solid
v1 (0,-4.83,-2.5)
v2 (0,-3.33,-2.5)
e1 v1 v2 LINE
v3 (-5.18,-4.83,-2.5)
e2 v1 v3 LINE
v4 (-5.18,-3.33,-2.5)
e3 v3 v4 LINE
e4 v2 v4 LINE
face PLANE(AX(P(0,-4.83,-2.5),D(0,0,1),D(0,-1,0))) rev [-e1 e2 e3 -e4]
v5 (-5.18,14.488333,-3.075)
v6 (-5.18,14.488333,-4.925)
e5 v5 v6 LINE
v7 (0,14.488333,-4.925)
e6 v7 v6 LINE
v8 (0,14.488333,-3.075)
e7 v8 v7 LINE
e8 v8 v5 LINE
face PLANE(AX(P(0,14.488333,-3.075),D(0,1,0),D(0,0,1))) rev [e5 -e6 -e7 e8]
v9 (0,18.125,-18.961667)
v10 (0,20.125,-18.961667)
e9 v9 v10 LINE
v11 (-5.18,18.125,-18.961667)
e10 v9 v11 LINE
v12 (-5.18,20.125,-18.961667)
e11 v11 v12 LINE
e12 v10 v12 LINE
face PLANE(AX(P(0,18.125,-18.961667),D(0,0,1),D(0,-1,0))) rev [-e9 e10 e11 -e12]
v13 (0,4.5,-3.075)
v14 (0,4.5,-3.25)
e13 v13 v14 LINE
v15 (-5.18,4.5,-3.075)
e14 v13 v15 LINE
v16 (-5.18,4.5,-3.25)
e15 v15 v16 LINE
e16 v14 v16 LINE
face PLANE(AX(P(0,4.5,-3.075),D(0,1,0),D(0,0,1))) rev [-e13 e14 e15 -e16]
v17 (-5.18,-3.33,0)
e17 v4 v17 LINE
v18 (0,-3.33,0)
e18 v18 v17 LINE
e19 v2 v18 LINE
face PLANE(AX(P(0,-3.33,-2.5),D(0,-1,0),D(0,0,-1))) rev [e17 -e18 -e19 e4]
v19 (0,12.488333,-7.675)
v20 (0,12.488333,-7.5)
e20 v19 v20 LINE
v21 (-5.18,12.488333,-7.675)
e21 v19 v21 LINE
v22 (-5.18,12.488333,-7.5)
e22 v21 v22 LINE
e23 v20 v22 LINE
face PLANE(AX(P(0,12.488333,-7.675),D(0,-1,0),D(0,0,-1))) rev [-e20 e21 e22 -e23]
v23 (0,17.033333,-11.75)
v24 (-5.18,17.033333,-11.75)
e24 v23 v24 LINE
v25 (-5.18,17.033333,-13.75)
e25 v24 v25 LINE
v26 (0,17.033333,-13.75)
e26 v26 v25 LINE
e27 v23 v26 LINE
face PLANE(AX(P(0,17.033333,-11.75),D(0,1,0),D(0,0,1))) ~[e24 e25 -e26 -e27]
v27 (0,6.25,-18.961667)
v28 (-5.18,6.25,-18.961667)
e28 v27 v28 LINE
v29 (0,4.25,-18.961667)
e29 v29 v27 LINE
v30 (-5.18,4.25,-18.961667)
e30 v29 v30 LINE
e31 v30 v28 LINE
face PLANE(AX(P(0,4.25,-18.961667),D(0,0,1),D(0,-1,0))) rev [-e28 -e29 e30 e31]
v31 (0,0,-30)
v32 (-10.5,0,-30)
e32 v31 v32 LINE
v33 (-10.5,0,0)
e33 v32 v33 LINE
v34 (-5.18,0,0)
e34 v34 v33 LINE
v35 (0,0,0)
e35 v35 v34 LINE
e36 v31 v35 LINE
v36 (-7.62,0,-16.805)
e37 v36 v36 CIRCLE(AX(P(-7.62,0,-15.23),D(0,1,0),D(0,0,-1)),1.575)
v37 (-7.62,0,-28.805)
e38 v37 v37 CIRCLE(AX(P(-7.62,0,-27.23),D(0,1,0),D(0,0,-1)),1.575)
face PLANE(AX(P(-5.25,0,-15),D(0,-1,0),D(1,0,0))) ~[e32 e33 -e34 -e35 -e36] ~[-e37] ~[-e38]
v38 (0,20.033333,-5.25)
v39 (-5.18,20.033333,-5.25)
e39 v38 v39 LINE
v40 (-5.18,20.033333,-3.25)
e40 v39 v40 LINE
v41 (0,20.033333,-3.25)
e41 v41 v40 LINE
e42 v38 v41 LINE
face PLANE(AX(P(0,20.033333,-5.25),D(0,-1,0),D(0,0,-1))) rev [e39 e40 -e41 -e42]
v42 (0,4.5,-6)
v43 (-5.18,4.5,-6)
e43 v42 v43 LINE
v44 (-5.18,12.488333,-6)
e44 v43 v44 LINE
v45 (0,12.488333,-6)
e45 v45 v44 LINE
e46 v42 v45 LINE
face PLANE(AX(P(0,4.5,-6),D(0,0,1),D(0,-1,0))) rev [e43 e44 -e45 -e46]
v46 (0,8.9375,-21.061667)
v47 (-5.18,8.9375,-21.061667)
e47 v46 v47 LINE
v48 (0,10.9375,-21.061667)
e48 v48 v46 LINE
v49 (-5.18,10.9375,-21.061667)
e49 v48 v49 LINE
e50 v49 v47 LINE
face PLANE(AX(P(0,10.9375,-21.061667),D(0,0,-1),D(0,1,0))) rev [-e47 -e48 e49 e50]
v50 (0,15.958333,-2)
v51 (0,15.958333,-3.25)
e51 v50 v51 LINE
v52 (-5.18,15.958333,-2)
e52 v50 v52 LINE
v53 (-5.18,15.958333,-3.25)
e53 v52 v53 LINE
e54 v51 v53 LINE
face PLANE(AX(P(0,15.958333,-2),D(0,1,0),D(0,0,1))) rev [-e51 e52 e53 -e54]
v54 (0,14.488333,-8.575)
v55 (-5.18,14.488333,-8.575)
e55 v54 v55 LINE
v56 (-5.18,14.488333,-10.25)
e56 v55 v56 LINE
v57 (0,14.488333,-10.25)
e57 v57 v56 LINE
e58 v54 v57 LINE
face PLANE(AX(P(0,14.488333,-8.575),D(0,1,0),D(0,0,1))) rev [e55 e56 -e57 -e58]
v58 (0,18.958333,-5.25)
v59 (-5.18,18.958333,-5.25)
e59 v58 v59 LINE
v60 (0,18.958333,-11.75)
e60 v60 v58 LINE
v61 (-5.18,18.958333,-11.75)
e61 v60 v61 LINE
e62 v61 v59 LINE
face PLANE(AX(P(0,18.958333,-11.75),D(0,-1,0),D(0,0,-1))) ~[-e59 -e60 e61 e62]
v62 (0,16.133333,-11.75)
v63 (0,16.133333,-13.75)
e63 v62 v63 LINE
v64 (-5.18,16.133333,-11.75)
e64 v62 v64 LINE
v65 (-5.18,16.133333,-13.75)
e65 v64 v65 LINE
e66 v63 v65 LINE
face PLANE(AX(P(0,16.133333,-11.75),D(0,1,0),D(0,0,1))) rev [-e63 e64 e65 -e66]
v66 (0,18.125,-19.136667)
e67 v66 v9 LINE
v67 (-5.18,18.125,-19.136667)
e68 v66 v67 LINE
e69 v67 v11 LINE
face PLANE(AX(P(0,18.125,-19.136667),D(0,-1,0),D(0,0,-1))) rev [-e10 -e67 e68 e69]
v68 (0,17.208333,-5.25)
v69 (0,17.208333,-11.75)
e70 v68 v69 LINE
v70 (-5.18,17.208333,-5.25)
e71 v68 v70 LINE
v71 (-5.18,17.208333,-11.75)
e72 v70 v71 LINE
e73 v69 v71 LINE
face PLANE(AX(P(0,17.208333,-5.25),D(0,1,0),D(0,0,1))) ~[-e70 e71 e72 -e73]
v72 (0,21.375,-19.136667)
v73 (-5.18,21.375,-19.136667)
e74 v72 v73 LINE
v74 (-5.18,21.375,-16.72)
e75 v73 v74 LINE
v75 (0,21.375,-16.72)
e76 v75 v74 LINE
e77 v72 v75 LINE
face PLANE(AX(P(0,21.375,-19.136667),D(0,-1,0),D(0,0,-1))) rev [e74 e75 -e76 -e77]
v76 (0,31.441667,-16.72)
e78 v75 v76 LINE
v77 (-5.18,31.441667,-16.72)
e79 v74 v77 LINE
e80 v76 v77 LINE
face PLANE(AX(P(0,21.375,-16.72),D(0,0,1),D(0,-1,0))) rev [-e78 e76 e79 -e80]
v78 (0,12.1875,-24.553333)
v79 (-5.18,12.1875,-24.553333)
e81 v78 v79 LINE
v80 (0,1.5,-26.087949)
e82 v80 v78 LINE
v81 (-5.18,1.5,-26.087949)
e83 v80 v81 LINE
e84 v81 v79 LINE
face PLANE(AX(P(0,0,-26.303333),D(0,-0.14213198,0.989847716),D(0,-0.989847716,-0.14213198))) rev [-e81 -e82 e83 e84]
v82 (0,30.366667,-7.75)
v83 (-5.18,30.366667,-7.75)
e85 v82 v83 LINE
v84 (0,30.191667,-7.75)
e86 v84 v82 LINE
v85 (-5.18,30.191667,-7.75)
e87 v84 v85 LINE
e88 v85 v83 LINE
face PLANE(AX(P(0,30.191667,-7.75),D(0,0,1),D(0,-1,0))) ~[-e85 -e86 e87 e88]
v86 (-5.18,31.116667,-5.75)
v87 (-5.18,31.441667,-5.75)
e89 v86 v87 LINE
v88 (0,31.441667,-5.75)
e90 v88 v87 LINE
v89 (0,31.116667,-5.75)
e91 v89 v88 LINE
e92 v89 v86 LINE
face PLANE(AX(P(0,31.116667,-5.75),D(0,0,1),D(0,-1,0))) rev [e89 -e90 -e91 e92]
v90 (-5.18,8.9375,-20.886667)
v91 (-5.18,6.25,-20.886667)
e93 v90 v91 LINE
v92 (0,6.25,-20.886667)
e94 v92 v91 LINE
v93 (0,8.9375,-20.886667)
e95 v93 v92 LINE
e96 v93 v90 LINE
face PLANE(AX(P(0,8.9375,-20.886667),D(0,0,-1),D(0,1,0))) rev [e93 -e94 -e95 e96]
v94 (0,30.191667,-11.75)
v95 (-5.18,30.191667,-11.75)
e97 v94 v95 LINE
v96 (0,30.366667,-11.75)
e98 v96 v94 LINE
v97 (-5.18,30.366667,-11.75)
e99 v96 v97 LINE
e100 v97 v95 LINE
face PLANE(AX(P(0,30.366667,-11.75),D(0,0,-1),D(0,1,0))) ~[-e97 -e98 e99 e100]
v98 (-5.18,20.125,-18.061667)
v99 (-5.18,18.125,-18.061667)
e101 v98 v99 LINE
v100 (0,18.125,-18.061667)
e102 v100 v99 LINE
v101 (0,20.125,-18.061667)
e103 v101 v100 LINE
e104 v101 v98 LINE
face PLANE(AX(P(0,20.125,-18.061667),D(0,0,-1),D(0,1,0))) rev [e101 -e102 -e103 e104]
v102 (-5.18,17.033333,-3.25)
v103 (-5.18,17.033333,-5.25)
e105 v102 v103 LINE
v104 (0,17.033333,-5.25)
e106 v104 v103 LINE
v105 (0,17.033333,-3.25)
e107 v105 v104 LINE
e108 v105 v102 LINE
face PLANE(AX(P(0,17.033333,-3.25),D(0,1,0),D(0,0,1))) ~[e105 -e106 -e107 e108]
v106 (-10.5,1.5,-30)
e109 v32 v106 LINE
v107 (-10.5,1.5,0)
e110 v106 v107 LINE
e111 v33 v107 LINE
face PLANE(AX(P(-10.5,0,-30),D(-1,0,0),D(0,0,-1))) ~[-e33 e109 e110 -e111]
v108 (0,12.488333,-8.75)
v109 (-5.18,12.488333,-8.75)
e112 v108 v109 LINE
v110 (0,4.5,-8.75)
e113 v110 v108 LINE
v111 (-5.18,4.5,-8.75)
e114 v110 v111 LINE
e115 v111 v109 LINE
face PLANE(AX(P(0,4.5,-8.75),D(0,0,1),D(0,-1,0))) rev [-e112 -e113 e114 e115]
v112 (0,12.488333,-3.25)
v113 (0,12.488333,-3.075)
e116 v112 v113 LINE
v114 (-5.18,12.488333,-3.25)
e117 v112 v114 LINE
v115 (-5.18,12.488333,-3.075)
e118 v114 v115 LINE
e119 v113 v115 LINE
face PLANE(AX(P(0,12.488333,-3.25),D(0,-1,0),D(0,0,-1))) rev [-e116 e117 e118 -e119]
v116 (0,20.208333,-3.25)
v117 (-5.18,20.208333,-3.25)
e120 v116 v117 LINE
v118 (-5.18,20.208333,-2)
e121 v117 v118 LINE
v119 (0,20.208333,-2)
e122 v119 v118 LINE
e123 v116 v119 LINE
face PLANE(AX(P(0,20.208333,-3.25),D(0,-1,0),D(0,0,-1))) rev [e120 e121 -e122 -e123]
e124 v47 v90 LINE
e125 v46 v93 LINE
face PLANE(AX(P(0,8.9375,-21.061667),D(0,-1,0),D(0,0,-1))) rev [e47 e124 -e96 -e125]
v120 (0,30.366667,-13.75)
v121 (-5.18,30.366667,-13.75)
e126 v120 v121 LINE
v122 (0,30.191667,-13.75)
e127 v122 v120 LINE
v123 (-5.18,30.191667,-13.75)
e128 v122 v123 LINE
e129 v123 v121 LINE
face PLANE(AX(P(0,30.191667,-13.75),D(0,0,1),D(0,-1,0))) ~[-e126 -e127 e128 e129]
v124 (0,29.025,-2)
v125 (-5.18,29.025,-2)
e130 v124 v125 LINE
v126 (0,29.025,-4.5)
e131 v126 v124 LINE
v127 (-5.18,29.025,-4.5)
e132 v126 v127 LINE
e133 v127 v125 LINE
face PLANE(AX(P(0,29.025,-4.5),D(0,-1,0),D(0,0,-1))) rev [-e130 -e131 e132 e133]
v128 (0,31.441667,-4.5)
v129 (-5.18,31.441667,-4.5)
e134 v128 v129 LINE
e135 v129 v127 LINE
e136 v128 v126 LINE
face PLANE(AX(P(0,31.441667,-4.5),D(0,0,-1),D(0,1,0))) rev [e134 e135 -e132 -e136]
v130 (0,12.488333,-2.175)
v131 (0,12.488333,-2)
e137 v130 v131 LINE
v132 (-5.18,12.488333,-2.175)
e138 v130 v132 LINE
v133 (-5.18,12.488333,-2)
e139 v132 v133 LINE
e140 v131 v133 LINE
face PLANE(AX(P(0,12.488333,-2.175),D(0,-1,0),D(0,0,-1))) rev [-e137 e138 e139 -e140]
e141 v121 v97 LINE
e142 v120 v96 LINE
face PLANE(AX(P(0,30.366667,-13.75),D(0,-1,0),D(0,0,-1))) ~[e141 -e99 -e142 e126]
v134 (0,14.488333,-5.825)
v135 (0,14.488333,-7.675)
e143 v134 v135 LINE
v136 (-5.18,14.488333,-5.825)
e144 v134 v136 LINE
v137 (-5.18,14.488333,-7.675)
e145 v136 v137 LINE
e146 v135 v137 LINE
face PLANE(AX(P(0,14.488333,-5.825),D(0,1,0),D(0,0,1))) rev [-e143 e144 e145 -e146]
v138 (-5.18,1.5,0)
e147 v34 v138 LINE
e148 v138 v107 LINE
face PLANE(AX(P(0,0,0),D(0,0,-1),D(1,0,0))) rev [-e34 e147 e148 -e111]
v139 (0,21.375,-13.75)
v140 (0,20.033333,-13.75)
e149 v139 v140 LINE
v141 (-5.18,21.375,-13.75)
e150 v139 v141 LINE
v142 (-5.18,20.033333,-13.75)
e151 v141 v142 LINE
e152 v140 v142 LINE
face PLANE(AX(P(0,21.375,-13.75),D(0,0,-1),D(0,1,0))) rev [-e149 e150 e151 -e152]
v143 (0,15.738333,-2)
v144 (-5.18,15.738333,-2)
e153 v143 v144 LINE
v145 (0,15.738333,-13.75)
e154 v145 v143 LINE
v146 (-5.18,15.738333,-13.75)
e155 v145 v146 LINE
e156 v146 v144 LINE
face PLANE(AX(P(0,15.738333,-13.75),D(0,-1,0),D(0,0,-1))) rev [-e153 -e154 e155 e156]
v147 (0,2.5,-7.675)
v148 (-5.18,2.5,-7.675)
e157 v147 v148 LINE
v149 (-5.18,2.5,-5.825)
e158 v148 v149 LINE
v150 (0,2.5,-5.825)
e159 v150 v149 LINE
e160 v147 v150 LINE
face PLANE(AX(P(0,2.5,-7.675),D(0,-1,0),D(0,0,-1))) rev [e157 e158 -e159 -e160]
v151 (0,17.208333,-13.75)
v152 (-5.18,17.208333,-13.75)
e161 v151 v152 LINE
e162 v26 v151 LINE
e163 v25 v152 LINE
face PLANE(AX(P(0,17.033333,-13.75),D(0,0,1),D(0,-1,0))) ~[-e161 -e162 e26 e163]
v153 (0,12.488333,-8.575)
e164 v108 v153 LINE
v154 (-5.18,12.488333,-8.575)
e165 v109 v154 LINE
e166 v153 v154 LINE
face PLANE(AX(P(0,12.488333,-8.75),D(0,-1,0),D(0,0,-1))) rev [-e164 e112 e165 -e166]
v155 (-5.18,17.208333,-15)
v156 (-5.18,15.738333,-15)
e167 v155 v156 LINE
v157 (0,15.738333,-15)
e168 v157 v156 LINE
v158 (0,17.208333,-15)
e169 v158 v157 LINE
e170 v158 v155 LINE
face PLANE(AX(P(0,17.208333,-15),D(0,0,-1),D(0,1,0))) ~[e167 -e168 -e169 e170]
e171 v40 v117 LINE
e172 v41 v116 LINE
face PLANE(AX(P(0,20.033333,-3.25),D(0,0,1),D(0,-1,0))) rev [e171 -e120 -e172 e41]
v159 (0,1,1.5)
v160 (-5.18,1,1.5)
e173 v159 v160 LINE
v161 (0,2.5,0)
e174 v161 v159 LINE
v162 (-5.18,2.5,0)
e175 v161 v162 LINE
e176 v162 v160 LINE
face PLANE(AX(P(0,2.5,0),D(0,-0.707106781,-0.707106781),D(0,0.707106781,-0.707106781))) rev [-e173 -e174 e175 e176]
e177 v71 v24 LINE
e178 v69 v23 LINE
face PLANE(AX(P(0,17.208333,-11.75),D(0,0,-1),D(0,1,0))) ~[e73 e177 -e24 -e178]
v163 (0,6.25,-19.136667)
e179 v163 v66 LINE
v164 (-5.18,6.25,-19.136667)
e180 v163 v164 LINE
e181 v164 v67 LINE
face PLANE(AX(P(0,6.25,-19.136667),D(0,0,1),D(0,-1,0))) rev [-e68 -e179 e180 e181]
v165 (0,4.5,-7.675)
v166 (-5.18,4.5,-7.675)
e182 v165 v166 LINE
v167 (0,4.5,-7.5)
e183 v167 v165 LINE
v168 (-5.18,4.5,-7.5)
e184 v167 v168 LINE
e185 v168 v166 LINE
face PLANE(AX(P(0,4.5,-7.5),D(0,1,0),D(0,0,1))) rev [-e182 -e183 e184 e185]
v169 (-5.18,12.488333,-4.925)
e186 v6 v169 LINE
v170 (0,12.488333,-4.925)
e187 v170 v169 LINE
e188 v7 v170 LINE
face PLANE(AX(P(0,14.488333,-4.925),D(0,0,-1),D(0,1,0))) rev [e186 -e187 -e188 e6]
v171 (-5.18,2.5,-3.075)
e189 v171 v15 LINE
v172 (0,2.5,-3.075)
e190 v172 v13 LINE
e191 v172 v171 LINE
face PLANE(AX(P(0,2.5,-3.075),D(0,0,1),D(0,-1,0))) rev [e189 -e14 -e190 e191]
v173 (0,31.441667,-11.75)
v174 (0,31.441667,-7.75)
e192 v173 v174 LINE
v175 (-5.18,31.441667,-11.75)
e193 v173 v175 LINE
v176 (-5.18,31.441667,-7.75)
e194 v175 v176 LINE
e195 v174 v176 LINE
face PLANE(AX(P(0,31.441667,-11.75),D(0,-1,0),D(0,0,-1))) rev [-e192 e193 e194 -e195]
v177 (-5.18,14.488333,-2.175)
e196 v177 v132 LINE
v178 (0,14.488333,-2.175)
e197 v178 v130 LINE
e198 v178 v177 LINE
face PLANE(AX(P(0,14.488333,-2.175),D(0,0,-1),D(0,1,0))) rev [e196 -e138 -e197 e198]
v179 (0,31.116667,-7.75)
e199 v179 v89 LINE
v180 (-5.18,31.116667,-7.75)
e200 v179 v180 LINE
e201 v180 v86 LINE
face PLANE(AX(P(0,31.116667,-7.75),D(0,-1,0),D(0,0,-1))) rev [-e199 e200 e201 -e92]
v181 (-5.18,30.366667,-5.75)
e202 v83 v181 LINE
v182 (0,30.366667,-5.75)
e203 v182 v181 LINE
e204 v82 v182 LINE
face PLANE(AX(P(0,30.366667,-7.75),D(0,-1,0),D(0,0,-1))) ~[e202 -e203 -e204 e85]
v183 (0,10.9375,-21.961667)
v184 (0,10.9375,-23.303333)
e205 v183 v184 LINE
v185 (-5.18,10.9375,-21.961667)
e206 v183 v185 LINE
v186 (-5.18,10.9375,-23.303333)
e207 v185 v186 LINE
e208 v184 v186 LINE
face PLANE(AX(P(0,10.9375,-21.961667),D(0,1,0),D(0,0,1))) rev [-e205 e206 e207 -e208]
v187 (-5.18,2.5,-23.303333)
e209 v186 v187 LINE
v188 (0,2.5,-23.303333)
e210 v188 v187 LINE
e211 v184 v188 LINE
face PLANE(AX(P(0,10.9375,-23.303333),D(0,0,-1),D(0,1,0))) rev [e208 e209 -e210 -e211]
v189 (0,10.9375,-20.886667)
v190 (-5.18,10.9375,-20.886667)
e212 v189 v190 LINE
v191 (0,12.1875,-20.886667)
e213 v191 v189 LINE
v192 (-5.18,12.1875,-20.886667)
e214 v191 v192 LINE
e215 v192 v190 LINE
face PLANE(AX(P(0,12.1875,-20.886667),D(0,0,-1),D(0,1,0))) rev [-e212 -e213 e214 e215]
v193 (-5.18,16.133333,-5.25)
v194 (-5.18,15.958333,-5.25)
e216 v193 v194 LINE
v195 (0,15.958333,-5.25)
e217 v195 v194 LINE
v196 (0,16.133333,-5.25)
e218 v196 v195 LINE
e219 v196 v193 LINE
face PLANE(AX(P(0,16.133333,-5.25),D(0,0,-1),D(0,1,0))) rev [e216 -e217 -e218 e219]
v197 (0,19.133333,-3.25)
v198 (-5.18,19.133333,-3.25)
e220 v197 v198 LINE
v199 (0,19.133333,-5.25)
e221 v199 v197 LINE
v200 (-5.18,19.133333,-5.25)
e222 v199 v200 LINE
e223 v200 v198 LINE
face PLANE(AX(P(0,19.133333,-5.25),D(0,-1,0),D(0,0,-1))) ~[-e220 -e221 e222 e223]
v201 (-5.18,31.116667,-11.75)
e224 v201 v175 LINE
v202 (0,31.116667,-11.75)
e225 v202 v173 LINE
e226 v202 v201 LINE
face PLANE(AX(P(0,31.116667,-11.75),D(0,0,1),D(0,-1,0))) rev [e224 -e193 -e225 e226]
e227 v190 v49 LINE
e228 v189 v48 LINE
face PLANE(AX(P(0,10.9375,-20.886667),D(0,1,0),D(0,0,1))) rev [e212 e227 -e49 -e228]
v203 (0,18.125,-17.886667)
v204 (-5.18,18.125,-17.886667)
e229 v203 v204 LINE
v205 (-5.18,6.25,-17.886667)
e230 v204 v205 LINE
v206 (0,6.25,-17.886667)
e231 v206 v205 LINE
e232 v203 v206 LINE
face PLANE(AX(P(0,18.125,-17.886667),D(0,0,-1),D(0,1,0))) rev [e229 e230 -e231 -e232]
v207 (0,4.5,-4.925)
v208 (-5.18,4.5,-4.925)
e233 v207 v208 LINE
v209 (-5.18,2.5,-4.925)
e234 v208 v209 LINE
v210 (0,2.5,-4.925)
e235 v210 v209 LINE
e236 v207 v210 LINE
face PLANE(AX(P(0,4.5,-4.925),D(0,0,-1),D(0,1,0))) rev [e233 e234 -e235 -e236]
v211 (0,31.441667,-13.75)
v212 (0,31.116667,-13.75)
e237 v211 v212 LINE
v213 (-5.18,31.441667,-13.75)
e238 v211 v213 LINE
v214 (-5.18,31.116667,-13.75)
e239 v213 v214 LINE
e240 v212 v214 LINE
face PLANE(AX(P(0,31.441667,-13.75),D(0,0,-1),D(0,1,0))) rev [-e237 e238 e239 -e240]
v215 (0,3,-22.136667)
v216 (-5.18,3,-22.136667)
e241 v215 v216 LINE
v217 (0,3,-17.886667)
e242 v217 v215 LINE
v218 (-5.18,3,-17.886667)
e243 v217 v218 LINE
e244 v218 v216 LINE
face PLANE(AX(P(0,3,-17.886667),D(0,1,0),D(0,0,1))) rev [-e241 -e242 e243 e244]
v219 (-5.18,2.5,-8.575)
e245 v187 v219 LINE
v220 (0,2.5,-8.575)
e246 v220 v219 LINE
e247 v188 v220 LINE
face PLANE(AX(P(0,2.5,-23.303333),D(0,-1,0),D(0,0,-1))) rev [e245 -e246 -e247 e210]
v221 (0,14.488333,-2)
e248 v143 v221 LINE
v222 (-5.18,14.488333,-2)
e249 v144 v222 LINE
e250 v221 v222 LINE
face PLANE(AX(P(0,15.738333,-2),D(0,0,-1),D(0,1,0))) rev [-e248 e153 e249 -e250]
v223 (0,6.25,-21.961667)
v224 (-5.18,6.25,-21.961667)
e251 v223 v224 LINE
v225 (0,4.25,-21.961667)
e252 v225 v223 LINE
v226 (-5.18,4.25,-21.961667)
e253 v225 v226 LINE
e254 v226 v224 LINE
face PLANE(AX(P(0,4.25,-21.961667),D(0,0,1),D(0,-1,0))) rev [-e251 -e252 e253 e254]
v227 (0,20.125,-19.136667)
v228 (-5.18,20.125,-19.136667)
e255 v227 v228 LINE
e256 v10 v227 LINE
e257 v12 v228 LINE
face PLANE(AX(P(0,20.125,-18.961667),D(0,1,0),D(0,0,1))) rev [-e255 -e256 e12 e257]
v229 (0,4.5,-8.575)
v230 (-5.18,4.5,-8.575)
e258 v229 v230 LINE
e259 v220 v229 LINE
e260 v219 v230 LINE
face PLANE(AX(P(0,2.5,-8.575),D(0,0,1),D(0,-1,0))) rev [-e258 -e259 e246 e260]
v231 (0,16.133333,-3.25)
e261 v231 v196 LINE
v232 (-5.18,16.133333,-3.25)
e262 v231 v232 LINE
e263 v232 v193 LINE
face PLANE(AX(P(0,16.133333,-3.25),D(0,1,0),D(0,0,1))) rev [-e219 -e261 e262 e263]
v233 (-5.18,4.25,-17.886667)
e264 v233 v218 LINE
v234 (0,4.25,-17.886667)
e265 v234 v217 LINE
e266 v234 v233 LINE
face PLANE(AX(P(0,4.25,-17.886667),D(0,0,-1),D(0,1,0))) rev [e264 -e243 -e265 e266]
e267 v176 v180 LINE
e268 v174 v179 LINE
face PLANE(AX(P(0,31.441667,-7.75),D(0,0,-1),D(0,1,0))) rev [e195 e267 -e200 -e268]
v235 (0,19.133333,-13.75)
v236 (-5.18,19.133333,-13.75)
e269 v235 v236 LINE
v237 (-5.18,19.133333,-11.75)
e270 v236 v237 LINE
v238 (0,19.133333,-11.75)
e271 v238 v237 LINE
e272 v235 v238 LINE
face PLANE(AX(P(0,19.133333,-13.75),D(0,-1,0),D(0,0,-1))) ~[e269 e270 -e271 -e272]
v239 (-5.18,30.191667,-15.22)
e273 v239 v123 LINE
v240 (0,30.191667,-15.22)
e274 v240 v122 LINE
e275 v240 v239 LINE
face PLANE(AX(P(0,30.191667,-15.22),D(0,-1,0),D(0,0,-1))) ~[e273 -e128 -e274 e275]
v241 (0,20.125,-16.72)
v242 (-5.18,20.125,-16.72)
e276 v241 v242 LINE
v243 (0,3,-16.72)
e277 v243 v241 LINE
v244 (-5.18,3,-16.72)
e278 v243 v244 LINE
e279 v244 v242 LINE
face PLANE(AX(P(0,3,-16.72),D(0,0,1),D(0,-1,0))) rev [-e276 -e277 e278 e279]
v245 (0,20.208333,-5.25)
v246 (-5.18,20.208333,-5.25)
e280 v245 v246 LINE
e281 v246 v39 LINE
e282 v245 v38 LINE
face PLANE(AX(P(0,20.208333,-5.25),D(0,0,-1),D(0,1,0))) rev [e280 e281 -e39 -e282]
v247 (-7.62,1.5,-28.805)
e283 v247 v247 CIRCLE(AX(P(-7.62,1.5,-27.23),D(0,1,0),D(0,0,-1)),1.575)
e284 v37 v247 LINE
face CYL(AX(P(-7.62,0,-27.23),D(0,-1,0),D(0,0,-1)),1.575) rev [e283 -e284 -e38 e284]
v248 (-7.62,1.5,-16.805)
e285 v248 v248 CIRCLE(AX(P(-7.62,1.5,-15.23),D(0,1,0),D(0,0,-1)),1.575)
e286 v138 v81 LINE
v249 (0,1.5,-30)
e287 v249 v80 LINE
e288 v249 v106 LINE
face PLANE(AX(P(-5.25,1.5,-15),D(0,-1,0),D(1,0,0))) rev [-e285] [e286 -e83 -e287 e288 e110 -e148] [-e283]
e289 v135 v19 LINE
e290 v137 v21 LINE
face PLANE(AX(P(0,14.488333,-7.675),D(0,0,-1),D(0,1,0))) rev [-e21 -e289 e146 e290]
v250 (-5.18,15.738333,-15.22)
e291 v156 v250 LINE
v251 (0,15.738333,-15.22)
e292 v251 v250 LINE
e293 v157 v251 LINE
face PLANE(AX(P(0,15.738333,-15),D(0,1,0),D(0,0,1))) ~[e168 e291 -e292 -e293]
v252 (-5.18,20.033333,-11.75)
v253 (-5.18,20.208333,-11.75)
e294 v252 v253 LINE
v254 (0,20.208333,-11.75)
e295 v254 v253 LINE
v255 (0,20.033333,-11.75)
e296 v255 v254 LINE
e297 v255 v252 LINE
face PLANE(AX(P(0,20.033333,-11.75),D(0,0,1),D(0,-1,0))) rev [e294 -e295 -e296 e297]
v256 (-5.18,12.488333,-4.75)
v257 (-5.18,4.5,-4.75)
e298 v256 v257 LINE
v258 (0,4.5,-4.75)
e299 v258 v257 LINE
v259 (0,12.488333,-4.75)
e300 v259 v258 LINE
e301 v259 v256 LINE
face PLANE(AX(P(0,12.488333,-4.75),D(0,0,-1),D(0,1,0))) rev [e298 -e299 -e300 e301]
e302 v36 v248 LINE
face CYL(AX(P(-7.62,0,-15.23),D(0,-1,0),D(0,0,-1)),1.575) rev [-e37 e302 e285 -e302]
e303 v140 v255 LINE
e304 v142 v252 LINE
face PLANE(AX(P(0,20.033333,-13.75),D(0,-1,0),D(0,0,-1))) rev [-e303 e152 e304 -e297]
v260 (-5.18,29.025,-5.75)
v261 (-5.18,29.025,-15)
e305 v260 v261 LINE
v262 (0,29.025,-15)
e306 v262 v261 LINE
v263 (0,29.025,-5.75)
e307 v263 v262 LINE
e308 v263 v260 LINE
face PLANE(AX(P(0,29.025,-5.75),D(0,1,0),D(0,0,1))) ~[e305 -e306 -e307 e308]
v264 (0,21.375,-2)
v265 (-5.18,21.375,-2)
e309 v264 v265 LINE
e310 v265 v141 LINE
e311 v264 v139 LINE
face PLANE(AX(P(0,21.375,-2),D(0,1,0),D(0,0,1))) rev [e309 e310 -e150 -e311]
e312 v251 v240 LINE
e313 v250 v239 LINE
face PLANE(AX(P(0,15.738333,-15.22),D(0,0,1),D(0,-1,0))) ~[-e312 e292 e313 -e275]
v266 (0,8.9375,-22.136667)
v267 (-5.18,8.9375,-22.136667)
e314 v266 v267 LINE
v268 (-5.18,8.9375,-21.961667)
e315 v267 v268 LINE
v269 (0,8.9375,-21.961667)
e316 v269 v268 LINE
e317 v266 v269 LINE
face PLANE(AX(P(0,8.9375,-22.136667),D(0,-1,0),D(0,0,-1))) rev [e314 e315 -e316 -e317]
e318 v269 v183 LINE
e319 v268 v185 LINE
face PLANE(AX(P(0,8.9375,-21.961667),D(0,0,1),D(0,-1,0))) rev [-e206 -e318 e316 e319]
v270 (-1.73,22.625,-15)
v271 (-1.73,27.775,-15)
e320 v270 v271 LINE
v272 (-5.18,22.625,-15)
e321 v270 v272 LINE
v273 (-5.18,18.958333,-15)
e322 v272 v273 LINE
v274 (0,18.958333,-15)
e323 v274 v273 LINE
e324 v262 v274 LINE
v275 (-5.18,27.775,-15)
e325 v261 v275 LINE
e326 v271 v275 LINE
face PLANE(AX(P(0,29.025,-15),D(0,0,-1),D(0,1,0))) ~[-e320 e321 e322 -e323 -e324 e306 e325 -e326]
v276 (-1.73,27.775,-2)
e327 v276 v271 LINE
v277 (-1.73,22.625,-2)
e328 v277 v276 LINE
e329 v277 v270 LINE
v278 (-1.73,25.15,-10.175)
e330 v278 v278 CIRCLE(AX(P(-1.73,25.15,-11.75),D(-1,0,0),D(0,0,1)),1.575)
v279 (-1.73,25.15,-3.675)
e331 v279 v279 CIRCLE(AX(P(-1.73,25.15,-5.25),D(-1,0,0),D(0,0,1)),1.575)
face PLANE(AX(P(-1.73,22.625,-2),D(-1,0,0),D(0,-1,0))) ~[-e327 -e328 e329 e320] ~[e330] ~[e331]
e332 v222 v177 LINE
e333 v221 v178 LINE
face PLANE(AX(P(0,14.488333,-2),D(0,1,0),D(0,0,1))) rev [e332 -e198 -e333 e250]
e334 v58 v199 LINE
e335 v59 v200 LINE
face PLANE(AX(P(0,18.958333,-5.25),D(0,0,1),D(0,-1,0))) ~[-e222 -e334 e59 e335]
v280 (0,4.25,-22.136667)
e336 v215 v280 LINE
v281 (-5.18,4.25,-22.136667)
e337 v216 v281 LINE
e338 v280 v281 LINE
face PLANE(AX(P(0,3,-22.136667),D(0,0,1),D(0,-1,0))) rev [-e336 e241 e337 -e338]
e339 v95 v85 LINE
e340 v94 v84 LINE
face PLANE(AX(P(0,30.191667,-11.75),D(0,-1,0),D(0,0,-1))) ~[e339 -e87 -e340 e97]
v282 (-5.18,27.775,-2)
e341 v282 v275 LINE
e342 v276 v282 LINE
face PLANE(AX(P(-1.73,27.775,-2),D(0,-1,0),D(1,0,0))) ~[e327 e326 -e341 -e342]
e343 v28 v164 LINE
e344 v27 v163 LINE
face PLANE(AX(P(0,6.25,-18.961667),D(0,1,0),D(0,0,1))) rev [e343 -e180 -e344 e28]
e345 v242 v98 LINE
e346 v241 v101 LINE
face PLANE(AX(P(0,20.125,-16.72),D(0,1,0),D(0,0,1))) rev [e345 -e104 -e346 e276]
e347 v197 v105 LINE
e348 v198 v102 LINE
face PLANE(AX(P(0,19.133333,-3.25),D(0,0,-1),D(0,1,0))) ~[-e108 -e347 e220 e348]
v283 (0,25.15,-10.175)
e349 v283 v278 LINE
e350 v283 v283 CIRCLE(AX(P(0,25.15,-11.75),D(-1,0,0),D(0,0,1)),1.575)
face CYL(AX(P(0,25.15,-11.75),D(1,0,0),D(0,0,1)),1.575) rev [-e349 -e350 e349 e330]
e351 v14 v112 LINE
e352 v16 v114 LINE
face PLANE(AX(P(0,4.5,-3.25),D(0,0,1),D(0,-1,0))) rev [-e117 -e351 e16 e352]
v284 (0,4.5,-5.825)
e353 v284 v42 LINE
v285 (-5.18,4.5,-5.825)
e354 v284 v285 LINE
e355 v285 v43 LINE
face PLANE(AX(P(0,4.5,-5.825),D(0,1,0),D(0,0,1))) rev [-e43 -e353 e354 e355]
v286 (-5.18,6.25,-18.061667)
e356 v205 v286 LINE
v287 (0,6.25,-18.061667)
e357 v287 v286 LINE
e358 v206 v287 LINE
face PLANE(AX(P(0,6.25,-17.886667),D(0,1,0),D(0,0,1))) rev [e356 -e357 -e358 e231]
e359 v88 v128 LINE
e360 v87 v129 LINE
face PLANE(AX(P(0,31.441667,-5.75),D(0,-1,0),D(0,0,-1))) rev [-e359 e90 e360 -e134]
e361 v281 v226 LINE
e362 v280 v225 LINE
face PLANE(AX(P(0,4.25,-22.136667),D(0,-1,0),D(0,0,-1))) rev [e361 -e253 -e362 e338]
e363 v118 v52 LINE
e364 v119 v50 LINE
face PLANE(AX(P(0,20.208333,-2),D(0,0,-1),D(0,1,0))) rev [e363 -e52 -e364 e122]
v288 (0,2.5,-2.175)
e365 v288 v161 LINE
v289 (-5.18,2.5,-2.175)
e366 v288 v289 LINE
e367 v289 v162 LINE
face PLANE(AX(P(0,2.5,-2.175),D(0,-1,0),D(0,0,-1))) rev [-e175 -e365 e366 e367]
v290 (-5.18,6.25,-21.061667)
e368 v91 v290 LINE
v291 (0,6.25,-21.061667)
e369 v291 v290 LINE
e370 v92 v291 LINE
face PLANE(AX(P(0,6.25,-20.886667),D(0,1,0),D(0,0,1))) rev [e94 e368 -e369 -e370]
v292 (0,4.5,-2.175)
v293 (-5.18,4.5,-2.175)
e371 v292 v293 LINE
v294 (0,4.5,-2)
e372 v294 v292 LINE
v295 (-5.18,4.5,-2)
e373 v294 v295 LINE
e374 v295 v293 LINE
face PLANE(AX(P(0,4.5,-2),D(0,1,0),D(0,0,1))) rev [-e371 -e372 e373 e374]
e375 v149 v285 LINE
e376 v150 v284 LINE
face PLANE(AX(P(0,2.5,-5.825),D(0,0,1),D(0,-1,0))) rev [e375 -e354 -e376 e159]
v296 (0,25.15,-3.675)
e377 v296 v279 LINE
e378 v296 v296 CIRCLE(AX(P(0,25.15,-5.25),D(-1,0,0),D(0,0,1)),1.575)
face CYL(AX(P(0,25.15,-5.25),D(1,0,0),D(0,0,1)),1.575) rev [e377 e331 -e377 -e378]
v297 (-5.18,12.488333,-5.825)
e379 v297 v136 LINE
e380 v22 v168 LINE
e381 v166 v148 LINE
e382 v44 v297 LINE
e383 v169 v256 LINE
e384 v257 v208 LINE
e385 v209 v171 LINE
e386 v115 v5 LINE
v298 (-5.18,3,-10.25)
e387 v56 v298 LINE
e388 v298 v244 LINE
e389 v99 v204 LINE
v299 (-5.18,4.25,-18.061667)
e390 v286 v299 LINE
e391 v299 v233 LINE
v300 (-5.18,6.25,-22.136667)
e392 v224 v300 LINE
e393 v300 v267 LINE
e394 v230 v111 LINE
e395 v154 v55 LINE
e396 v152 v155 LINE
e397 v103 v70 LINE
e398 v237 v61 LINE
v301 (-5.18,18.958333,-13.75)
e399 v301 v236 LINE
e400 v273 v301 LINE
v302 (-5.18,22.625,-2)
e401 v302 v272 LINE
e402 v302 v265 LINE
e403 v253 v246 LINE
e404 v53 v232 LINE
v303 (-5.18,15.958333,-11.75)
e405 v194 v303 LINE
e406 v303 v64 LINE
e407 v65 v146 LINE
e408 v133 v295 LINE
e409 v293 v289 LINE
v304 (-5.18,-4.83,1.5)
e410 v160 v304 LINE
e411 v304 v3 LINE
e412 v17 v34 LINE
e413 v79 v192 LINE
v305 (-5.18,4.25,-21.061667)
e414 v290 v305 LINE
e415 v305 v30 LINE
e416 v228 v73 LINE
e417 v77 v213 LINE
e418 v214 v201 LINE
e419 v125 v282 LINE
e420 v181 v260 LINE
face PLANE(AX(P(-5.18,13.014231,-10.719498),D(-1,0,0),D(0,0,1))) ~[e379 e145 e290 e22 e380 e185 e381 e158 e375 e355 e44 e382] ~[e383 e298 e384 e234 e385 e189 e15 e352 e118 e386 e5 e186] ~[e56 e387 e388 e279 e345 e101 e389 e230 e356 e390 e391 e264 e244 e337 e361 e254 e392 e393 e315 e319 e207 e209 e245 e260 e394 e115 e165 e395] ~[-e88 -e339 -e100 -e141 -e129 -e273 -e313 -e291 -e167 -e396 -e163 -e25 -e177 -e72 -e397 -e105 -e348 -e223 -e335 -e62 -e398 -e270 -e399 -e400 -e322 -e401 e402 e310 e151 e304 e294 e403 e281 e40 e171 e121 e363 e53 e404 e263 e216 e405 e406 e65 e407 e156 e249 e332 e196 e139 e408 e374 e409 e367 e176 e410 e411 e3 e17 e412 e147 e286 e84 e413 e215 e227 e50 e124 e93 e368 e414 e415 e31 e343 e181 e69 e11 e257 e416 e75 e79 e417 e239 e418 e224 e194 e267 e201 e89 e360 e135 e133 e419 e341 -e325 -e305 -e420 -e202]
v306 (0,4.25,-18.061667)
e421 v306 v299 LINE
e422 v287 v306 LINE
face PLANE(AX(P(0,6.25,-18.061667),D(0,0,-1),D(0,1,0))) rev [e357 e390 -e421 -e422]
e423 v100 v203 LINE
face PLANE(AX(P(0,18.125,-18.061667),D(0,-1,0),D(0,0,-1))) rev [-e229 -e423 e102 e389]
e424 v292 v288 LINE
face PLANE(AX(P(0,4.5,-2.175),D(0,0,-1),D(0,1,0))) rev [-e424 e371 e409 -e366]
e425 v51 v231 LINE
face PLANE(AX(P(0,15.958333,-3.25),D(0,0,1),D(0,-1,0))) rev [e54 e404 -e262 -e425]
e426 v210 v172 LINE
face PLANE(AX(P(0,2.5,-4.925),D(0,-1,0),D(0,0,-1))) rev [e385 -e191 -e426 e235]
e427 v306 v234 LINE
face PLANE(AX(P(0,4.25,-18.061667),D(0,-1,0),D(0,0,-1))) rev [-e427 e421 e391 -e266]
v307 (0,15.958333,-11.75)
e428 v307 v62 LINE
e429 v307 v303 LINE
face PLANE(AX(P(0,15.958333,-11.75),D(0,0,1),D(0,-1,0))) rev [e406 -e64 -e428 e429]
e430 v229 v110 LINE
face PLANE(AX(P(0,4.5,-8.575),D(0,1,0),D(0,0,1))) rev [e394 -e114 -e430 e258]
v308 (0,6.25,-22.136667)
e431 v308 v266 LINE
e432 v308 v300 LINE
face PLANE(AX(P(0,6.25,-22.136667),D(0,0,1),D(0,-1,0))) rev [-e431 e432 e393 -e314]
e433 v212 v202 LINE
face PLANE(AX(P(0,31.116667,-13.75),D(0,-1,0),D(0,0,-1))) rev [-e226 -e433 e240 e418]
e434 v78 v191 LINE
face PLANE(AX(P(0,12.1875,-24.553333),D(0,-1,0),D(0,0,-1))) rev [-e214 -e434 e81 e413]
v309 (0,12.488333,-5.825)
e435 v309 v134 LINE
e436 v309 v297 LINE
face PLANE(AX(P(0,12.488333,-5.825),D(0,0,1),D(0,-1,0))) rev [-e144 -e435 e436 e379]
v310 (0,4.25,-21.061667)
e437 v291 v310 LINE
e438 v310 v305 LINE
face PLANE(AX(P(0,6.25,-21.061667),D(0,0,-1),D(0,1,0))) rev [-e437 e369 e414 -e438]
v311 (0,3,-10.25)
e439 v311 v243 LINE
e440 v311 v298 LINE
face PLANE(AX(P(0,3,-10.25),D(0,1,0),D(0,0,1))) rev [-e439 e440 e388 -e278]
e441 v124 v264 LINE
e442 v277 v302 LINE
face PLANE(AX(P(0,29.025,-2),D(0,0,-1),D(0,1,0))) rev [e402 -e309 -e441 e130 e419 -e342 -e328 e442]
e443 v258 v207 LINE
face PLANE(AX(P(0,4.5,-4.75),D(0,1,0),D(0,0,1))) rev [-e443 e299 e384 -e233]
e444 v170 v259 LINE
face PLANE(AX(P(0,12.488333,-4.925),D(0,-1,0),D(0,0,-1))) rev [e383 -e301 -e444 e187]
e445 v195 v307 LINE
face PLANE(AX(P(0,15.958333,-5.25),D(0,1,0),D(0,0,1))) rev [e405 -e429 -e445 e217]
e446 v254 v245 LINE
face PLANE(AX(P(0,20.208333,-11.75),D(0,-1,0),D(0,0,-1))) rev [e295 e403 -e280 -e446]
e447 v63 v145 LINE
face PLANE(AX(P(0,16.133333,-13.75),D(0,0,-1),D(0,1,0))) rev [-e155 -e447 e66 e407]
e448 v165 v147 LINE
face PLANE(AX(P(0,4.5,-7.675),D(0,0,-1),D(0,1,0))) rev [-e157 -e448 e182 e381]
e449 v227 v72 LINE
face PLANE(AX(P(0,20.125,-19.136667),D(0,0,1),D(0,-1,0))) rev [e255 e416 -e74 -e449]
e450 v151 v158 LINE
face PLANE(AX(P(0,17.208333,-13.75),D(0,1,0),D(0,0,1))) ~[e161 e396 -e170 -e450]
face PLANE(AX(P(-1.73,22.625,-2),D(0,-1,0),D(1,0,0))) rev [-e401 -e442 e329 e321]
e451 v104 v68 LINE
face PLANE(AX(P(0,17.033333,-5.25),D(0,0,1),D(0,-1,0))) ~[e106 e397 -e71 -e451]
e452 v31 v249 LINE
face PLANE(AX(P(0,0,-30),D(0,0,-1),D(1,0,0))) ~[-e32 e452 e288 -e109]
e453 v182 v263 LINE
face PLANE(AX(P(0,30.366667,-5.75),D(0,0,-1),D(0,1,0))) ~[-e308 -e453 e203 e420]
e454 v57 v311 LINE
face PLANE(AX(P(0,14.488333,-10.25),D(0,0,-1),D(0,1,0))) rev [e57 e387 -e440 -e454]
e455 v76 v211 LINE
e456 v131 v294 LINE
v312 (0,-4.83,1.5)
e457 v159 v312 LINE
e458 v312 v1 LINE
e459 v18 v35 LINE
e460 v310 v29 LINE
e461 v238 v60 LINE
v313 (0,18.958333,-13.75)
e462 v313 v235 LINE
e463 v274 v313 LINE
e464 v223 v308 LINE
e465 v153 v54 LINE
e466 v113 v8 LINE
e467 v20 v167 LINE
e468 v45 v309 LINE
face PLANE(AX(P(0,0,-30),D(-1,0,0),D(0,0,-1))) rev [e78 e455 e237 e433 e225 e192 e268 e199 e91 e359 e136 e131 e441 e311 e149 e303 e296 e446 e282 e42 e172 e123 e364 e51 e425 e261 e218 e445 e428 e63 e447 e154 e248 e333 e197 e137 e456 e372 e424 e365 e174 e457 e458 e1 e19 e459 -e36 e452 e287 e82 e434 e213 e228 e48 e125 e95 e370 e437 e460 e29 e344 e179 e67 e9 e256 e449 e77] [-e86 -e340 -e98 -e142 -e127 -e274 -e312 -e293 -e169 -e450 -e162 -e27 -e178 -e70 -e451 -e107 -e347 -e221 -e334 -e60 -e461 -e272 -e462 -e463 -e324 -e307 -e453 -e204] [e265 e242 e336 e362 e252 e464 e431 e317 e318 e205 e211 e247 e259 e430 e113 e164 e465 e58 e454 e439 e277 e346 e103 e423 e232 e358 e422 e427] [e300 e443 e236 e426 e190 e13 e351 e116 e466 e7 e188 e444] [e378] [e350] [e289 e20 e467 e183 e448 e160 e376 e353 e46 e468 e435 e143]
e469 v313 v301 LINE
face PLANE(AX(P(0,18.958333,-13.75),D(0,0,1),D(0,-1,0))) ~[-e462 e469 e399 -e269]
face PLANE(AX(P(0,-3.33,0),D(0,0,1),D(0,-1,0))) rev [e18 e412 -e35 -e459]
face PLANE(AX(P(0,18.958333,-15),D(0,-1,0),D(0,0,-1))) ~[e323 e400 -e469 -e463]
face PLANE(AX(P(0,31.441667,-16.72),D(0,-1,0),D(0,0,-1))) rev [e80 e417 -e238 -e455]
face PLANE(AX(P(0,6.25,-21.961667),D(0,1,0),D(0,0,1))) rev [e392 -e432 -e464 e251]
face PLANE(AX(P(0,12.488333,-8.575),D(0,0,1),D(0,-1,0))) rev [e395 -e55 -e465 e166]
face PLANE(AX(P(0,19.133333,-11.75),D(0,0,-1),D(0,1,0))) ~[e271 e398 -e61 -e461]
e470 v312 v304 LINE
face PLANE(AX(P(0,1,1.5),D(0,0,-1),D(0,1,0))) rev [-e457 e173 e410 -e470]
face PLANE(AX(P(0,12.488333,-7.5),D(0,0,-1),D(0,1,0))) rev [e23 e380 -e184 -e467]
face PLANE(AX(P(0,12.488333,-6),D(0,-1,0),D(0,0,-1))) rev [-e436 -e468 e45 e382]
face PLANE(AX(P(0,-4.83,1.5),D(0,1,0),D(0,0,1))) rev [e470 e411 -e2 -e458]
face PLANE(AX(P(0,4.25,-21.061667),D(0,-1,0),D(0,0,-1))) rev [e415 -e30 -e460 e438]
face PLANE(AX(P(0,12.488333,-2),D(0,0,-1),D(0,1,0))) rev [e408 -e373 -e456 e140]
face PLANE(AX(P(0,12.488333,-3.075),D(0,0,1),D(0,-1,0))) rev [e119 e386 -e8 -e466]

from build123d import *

# Parameters (mm, degrees)
BOSS_EXTRUDE1_DEPTH = 5.18
CUT_EXTRUDE4_REACH  = 42.076
SKETCH2_W           = 3.45
SKETCH2_H           = 5.15
CUT_EXTRUDE3_REACH  = 43.319
SKETCH7_R           = 1.575
SKETCH3_W           = 10.5
SKETCH3_H           = 30
SKETCH3_R           = 1.575
BOSS_EXTRUDE2_DEPTH = 1.5


with BuildPart() as part:
    # Sketch1 → Boss-Extrude1 (new body)
    with BuildSketch(Plane(origin=(0, 0, 0), x_dir=(0, 0, -1), z_dir=(1, 0, 0))):
        Polygon((2, 29.025), (2, 21.375), (13.75, 21.375), (13.75, 20.033333333), (11.75, 20.033333333), (11.75, 20.208333333), (5.25, 20.208333333), (5.25, 20.033333333), (3.25, 20.033333333), (3.25, 20.208333333), (2, 20.208333333), (2, 15.958333333), (3.25, 15.958333333), (3.25, 16.133333333), (5.25, 16.133333333), (5.25, 15.958333333), (11.75, 15.958333333), (11.75, 16.133333333), (13.75, 16.133333333), (13.75, 15.738333333), (2, 15.738333333), (2, 14.488333333), (2.175, 14.488333333), (2.175, 12.488333333), (2, 12.488333333), (2, 4.5), (2.175, 4.5), (2.175, 2.5), (0, 2.5), (-1.5, 1), (-1.5, -4.83), (2.5, -4.83), (2.5, -3.33), (0, -3.33), (0, 0), (26.303333333, 0), (24.553333333, 12.1875), (20.886666667, 12.1875), (20.886666667, 10.9375), (21.061666667, 10.9375), (21.061666667, 8.9375), (20.886666667, 8.9375), (20.886666667, 6.25), (21.061666667, 6.25), (21.061666667, 4.25), (18.961666667, 4.25), (18.961666667, 6.25), (19.136666667, 6.25), (19.136666667, 18.125), (18.961666667, 18.125), (18.961666667, 20.125), (19.136666667, 20.125), (19.136666667, 21.375), (16.72, 21.375), (16.72, 31.441666667), (13.75, 31.441666667), (13.75, 31.116666667), (11.75, 31.116666667), (11.75, 31.441666667), (7.75, 31.441666667), (7.75, 31.116666667), (5.75, 31.116666667), (5.75, 31.441666667), (4.5, 31.441666667), (4.5, 29.025), align=None)
        Polygon((5.75, 29.025), (15, 29.025), (15, 18.958333333), (13.75, 18.958333333), (13.75, 19.133333333), (11.75, 19.133333333), (11.75, 18.958333333), (5.25, 18.958333333), (5.25, 19.133333333), (3.25, 19.133333333), (3.25, 17.033333333), (5.25, 17.033333333), (5.25, 17.208333333), (11.75, 17.208333333), (11.75, 17.033333333), (13.75, 17.033333333), (13.75, 17.208333333), (15, 17.208333333), (15, 15.738333333), (15.22, 15.738333333), (15.22, 30.191666667), (13.75, 30.191666667), (13.75, 30.366666667), (11.75, 30.366666667), (11.75, 30.191666667), (7.75, 30.191666667), (7.75, 30.366666667), (5.75, 30.366666667), align=None, mode=Mode.SUBTRACT)
        Polygon((18.061666667, 4.25), (17.886666667, 4.25), (17.886666667, 3), (22.136666667, 3), (22.136666667, 4.25), (21.961666667, 4.25), (21.961666667, 6.25), (22.136666667, 6.25), (22.136666667, 8.9375), (21.961666667, 8.9375), (21.961666667, 10.9375), (23.303333333, 10.9375), (23.303333333, 2.5), (8.575, 2.5), (8.575, 4.5), (8.75, 4.5), (8.75, 12.488333333), (8.575, 12.488333333), (8.575, 14.488333333), (10.25, 14.488333333), (10.25, 3), (16.72, 3), (16.72, 20.125), (18.061666667, 20.125), (18.061666667, 18.125), (17.886666667, 18.125), (17.886666667, 6.25), (18.061666667, 6.25), align=None, mode=Mode.SUBTRACT)
        Polygon((3.075, 2.5), (3.075, 4.5), (3.25, 4.5), (3.25, 12.488333333), (3.075, 12.488333333), (3.075, 14.488333333), (4.925, 14.488333333), (4.925, 12.488333333), (4.75, 12.488333333), (4.75, 4.5), (4.925, 4.5), (4.925, 2.5), align=None, mode=Mode.SUBTRACT)
        Polygon((5.825, 2.5), (5.825, 4.5), (6, 4.5), (6, 12.488333333), (5.825, 12.488333333), (5.825, 14.488333333), (7.675, 14.488333333), (7.675, 12.488333333), (7.5, 12.488333333), (7.5, 4.5), (7.675, 4.5), (7.675, 2.5), align=None, mode=Mode.SUBTRACT)
    extrude(amount=BOSS_EXTRUDE1_DEPTH)

    # Sketch2 → Cut-Extrude4 (cut, up to next)
    with BuildSketch(Plane.XY.offset(-2), mode=Mode.PRIVATE) as cut_extrude4_sk1:
        with Locations((3.455, 25.2)):
            Rectangle(SKETCH2_W, SKETCH2_H)
    cut_extrude4_tool1 = extrude(cut_extrude4_sk1.sketch, amount=-CUT_EXTRUDE4_REACH, mode=Mode.PRIVATE) & part.part
    add(cut_extrude4_tool1.solids().sort_by_distance((3.455, 25.2, -2))[0], mode=Mode.SUBTRACT)

    # Sketch7 → Cut-Extrude3 (cut, up to next)
    with BuildSketch(Plane.ZY, mode=Mode.PRIVATE) as cut_extrude3_sk1:
        with Locations((-5.25, 25.15)):
            Circle(SKETCH7_R)
    cut_extrude3_tool1 = extrude(cut_extrude3_sk1.sketch, amount=-CUT_EXTRUDE3_REACH, mode=Mode.PRIVATE) & part.part
    # Sketch7 → Cut-Extrude3 (cut, up to next)
    with BuildSketch(Plane.ZY, mode=Mode.PRIVATE) as cut_extrude3_sk2:
        with Locations((-11.75, 25.15)):
            Circle(SKETCH7_R)
    cut_extrude3_tool2 = extrude(cut_extrude3_sk2.sketch, amount=-CUT_EXTRUDE3_REACH, mode=Mode.PRIVATE) & part.part
    add(cut_extrude3_tool1.solids().sort_by_distance((0, 25.15, -5.25))[0], mode=Mode.SUBTRACT)
    add(cut_extrude3_tool2.solids().sort_by_distance((0, 25.15, -11.75))[0], mode=Mode.SUBTRACT)

    # Sketch3 → Boss-Extrude2 (add)
    with BuildSketch(Plane.XZ):
        with Locations((5.25, -15)):
            Rectangle(SKETCH3_W, SKETCH3_H)
        with Locations(Location((7.62, -15.23, 0), (0, 0, 270))):
            Circle(SKETCH3_R, mode=Mode.SUBTRACT)
        with Locations(Location((7.62, -27.23, 0), (0, 0, 270))):
            Circle(SKETCH3_R, mode=Mode.SUBTRACT)
    extrude(amount=-BOSS_EXTRUDE2_DEPTH)


with BuildPart() as body_2:
    # Mirror1: mirrored copy
    add(part.part.mirror(Plane.ZY))


solid = body_2.part
